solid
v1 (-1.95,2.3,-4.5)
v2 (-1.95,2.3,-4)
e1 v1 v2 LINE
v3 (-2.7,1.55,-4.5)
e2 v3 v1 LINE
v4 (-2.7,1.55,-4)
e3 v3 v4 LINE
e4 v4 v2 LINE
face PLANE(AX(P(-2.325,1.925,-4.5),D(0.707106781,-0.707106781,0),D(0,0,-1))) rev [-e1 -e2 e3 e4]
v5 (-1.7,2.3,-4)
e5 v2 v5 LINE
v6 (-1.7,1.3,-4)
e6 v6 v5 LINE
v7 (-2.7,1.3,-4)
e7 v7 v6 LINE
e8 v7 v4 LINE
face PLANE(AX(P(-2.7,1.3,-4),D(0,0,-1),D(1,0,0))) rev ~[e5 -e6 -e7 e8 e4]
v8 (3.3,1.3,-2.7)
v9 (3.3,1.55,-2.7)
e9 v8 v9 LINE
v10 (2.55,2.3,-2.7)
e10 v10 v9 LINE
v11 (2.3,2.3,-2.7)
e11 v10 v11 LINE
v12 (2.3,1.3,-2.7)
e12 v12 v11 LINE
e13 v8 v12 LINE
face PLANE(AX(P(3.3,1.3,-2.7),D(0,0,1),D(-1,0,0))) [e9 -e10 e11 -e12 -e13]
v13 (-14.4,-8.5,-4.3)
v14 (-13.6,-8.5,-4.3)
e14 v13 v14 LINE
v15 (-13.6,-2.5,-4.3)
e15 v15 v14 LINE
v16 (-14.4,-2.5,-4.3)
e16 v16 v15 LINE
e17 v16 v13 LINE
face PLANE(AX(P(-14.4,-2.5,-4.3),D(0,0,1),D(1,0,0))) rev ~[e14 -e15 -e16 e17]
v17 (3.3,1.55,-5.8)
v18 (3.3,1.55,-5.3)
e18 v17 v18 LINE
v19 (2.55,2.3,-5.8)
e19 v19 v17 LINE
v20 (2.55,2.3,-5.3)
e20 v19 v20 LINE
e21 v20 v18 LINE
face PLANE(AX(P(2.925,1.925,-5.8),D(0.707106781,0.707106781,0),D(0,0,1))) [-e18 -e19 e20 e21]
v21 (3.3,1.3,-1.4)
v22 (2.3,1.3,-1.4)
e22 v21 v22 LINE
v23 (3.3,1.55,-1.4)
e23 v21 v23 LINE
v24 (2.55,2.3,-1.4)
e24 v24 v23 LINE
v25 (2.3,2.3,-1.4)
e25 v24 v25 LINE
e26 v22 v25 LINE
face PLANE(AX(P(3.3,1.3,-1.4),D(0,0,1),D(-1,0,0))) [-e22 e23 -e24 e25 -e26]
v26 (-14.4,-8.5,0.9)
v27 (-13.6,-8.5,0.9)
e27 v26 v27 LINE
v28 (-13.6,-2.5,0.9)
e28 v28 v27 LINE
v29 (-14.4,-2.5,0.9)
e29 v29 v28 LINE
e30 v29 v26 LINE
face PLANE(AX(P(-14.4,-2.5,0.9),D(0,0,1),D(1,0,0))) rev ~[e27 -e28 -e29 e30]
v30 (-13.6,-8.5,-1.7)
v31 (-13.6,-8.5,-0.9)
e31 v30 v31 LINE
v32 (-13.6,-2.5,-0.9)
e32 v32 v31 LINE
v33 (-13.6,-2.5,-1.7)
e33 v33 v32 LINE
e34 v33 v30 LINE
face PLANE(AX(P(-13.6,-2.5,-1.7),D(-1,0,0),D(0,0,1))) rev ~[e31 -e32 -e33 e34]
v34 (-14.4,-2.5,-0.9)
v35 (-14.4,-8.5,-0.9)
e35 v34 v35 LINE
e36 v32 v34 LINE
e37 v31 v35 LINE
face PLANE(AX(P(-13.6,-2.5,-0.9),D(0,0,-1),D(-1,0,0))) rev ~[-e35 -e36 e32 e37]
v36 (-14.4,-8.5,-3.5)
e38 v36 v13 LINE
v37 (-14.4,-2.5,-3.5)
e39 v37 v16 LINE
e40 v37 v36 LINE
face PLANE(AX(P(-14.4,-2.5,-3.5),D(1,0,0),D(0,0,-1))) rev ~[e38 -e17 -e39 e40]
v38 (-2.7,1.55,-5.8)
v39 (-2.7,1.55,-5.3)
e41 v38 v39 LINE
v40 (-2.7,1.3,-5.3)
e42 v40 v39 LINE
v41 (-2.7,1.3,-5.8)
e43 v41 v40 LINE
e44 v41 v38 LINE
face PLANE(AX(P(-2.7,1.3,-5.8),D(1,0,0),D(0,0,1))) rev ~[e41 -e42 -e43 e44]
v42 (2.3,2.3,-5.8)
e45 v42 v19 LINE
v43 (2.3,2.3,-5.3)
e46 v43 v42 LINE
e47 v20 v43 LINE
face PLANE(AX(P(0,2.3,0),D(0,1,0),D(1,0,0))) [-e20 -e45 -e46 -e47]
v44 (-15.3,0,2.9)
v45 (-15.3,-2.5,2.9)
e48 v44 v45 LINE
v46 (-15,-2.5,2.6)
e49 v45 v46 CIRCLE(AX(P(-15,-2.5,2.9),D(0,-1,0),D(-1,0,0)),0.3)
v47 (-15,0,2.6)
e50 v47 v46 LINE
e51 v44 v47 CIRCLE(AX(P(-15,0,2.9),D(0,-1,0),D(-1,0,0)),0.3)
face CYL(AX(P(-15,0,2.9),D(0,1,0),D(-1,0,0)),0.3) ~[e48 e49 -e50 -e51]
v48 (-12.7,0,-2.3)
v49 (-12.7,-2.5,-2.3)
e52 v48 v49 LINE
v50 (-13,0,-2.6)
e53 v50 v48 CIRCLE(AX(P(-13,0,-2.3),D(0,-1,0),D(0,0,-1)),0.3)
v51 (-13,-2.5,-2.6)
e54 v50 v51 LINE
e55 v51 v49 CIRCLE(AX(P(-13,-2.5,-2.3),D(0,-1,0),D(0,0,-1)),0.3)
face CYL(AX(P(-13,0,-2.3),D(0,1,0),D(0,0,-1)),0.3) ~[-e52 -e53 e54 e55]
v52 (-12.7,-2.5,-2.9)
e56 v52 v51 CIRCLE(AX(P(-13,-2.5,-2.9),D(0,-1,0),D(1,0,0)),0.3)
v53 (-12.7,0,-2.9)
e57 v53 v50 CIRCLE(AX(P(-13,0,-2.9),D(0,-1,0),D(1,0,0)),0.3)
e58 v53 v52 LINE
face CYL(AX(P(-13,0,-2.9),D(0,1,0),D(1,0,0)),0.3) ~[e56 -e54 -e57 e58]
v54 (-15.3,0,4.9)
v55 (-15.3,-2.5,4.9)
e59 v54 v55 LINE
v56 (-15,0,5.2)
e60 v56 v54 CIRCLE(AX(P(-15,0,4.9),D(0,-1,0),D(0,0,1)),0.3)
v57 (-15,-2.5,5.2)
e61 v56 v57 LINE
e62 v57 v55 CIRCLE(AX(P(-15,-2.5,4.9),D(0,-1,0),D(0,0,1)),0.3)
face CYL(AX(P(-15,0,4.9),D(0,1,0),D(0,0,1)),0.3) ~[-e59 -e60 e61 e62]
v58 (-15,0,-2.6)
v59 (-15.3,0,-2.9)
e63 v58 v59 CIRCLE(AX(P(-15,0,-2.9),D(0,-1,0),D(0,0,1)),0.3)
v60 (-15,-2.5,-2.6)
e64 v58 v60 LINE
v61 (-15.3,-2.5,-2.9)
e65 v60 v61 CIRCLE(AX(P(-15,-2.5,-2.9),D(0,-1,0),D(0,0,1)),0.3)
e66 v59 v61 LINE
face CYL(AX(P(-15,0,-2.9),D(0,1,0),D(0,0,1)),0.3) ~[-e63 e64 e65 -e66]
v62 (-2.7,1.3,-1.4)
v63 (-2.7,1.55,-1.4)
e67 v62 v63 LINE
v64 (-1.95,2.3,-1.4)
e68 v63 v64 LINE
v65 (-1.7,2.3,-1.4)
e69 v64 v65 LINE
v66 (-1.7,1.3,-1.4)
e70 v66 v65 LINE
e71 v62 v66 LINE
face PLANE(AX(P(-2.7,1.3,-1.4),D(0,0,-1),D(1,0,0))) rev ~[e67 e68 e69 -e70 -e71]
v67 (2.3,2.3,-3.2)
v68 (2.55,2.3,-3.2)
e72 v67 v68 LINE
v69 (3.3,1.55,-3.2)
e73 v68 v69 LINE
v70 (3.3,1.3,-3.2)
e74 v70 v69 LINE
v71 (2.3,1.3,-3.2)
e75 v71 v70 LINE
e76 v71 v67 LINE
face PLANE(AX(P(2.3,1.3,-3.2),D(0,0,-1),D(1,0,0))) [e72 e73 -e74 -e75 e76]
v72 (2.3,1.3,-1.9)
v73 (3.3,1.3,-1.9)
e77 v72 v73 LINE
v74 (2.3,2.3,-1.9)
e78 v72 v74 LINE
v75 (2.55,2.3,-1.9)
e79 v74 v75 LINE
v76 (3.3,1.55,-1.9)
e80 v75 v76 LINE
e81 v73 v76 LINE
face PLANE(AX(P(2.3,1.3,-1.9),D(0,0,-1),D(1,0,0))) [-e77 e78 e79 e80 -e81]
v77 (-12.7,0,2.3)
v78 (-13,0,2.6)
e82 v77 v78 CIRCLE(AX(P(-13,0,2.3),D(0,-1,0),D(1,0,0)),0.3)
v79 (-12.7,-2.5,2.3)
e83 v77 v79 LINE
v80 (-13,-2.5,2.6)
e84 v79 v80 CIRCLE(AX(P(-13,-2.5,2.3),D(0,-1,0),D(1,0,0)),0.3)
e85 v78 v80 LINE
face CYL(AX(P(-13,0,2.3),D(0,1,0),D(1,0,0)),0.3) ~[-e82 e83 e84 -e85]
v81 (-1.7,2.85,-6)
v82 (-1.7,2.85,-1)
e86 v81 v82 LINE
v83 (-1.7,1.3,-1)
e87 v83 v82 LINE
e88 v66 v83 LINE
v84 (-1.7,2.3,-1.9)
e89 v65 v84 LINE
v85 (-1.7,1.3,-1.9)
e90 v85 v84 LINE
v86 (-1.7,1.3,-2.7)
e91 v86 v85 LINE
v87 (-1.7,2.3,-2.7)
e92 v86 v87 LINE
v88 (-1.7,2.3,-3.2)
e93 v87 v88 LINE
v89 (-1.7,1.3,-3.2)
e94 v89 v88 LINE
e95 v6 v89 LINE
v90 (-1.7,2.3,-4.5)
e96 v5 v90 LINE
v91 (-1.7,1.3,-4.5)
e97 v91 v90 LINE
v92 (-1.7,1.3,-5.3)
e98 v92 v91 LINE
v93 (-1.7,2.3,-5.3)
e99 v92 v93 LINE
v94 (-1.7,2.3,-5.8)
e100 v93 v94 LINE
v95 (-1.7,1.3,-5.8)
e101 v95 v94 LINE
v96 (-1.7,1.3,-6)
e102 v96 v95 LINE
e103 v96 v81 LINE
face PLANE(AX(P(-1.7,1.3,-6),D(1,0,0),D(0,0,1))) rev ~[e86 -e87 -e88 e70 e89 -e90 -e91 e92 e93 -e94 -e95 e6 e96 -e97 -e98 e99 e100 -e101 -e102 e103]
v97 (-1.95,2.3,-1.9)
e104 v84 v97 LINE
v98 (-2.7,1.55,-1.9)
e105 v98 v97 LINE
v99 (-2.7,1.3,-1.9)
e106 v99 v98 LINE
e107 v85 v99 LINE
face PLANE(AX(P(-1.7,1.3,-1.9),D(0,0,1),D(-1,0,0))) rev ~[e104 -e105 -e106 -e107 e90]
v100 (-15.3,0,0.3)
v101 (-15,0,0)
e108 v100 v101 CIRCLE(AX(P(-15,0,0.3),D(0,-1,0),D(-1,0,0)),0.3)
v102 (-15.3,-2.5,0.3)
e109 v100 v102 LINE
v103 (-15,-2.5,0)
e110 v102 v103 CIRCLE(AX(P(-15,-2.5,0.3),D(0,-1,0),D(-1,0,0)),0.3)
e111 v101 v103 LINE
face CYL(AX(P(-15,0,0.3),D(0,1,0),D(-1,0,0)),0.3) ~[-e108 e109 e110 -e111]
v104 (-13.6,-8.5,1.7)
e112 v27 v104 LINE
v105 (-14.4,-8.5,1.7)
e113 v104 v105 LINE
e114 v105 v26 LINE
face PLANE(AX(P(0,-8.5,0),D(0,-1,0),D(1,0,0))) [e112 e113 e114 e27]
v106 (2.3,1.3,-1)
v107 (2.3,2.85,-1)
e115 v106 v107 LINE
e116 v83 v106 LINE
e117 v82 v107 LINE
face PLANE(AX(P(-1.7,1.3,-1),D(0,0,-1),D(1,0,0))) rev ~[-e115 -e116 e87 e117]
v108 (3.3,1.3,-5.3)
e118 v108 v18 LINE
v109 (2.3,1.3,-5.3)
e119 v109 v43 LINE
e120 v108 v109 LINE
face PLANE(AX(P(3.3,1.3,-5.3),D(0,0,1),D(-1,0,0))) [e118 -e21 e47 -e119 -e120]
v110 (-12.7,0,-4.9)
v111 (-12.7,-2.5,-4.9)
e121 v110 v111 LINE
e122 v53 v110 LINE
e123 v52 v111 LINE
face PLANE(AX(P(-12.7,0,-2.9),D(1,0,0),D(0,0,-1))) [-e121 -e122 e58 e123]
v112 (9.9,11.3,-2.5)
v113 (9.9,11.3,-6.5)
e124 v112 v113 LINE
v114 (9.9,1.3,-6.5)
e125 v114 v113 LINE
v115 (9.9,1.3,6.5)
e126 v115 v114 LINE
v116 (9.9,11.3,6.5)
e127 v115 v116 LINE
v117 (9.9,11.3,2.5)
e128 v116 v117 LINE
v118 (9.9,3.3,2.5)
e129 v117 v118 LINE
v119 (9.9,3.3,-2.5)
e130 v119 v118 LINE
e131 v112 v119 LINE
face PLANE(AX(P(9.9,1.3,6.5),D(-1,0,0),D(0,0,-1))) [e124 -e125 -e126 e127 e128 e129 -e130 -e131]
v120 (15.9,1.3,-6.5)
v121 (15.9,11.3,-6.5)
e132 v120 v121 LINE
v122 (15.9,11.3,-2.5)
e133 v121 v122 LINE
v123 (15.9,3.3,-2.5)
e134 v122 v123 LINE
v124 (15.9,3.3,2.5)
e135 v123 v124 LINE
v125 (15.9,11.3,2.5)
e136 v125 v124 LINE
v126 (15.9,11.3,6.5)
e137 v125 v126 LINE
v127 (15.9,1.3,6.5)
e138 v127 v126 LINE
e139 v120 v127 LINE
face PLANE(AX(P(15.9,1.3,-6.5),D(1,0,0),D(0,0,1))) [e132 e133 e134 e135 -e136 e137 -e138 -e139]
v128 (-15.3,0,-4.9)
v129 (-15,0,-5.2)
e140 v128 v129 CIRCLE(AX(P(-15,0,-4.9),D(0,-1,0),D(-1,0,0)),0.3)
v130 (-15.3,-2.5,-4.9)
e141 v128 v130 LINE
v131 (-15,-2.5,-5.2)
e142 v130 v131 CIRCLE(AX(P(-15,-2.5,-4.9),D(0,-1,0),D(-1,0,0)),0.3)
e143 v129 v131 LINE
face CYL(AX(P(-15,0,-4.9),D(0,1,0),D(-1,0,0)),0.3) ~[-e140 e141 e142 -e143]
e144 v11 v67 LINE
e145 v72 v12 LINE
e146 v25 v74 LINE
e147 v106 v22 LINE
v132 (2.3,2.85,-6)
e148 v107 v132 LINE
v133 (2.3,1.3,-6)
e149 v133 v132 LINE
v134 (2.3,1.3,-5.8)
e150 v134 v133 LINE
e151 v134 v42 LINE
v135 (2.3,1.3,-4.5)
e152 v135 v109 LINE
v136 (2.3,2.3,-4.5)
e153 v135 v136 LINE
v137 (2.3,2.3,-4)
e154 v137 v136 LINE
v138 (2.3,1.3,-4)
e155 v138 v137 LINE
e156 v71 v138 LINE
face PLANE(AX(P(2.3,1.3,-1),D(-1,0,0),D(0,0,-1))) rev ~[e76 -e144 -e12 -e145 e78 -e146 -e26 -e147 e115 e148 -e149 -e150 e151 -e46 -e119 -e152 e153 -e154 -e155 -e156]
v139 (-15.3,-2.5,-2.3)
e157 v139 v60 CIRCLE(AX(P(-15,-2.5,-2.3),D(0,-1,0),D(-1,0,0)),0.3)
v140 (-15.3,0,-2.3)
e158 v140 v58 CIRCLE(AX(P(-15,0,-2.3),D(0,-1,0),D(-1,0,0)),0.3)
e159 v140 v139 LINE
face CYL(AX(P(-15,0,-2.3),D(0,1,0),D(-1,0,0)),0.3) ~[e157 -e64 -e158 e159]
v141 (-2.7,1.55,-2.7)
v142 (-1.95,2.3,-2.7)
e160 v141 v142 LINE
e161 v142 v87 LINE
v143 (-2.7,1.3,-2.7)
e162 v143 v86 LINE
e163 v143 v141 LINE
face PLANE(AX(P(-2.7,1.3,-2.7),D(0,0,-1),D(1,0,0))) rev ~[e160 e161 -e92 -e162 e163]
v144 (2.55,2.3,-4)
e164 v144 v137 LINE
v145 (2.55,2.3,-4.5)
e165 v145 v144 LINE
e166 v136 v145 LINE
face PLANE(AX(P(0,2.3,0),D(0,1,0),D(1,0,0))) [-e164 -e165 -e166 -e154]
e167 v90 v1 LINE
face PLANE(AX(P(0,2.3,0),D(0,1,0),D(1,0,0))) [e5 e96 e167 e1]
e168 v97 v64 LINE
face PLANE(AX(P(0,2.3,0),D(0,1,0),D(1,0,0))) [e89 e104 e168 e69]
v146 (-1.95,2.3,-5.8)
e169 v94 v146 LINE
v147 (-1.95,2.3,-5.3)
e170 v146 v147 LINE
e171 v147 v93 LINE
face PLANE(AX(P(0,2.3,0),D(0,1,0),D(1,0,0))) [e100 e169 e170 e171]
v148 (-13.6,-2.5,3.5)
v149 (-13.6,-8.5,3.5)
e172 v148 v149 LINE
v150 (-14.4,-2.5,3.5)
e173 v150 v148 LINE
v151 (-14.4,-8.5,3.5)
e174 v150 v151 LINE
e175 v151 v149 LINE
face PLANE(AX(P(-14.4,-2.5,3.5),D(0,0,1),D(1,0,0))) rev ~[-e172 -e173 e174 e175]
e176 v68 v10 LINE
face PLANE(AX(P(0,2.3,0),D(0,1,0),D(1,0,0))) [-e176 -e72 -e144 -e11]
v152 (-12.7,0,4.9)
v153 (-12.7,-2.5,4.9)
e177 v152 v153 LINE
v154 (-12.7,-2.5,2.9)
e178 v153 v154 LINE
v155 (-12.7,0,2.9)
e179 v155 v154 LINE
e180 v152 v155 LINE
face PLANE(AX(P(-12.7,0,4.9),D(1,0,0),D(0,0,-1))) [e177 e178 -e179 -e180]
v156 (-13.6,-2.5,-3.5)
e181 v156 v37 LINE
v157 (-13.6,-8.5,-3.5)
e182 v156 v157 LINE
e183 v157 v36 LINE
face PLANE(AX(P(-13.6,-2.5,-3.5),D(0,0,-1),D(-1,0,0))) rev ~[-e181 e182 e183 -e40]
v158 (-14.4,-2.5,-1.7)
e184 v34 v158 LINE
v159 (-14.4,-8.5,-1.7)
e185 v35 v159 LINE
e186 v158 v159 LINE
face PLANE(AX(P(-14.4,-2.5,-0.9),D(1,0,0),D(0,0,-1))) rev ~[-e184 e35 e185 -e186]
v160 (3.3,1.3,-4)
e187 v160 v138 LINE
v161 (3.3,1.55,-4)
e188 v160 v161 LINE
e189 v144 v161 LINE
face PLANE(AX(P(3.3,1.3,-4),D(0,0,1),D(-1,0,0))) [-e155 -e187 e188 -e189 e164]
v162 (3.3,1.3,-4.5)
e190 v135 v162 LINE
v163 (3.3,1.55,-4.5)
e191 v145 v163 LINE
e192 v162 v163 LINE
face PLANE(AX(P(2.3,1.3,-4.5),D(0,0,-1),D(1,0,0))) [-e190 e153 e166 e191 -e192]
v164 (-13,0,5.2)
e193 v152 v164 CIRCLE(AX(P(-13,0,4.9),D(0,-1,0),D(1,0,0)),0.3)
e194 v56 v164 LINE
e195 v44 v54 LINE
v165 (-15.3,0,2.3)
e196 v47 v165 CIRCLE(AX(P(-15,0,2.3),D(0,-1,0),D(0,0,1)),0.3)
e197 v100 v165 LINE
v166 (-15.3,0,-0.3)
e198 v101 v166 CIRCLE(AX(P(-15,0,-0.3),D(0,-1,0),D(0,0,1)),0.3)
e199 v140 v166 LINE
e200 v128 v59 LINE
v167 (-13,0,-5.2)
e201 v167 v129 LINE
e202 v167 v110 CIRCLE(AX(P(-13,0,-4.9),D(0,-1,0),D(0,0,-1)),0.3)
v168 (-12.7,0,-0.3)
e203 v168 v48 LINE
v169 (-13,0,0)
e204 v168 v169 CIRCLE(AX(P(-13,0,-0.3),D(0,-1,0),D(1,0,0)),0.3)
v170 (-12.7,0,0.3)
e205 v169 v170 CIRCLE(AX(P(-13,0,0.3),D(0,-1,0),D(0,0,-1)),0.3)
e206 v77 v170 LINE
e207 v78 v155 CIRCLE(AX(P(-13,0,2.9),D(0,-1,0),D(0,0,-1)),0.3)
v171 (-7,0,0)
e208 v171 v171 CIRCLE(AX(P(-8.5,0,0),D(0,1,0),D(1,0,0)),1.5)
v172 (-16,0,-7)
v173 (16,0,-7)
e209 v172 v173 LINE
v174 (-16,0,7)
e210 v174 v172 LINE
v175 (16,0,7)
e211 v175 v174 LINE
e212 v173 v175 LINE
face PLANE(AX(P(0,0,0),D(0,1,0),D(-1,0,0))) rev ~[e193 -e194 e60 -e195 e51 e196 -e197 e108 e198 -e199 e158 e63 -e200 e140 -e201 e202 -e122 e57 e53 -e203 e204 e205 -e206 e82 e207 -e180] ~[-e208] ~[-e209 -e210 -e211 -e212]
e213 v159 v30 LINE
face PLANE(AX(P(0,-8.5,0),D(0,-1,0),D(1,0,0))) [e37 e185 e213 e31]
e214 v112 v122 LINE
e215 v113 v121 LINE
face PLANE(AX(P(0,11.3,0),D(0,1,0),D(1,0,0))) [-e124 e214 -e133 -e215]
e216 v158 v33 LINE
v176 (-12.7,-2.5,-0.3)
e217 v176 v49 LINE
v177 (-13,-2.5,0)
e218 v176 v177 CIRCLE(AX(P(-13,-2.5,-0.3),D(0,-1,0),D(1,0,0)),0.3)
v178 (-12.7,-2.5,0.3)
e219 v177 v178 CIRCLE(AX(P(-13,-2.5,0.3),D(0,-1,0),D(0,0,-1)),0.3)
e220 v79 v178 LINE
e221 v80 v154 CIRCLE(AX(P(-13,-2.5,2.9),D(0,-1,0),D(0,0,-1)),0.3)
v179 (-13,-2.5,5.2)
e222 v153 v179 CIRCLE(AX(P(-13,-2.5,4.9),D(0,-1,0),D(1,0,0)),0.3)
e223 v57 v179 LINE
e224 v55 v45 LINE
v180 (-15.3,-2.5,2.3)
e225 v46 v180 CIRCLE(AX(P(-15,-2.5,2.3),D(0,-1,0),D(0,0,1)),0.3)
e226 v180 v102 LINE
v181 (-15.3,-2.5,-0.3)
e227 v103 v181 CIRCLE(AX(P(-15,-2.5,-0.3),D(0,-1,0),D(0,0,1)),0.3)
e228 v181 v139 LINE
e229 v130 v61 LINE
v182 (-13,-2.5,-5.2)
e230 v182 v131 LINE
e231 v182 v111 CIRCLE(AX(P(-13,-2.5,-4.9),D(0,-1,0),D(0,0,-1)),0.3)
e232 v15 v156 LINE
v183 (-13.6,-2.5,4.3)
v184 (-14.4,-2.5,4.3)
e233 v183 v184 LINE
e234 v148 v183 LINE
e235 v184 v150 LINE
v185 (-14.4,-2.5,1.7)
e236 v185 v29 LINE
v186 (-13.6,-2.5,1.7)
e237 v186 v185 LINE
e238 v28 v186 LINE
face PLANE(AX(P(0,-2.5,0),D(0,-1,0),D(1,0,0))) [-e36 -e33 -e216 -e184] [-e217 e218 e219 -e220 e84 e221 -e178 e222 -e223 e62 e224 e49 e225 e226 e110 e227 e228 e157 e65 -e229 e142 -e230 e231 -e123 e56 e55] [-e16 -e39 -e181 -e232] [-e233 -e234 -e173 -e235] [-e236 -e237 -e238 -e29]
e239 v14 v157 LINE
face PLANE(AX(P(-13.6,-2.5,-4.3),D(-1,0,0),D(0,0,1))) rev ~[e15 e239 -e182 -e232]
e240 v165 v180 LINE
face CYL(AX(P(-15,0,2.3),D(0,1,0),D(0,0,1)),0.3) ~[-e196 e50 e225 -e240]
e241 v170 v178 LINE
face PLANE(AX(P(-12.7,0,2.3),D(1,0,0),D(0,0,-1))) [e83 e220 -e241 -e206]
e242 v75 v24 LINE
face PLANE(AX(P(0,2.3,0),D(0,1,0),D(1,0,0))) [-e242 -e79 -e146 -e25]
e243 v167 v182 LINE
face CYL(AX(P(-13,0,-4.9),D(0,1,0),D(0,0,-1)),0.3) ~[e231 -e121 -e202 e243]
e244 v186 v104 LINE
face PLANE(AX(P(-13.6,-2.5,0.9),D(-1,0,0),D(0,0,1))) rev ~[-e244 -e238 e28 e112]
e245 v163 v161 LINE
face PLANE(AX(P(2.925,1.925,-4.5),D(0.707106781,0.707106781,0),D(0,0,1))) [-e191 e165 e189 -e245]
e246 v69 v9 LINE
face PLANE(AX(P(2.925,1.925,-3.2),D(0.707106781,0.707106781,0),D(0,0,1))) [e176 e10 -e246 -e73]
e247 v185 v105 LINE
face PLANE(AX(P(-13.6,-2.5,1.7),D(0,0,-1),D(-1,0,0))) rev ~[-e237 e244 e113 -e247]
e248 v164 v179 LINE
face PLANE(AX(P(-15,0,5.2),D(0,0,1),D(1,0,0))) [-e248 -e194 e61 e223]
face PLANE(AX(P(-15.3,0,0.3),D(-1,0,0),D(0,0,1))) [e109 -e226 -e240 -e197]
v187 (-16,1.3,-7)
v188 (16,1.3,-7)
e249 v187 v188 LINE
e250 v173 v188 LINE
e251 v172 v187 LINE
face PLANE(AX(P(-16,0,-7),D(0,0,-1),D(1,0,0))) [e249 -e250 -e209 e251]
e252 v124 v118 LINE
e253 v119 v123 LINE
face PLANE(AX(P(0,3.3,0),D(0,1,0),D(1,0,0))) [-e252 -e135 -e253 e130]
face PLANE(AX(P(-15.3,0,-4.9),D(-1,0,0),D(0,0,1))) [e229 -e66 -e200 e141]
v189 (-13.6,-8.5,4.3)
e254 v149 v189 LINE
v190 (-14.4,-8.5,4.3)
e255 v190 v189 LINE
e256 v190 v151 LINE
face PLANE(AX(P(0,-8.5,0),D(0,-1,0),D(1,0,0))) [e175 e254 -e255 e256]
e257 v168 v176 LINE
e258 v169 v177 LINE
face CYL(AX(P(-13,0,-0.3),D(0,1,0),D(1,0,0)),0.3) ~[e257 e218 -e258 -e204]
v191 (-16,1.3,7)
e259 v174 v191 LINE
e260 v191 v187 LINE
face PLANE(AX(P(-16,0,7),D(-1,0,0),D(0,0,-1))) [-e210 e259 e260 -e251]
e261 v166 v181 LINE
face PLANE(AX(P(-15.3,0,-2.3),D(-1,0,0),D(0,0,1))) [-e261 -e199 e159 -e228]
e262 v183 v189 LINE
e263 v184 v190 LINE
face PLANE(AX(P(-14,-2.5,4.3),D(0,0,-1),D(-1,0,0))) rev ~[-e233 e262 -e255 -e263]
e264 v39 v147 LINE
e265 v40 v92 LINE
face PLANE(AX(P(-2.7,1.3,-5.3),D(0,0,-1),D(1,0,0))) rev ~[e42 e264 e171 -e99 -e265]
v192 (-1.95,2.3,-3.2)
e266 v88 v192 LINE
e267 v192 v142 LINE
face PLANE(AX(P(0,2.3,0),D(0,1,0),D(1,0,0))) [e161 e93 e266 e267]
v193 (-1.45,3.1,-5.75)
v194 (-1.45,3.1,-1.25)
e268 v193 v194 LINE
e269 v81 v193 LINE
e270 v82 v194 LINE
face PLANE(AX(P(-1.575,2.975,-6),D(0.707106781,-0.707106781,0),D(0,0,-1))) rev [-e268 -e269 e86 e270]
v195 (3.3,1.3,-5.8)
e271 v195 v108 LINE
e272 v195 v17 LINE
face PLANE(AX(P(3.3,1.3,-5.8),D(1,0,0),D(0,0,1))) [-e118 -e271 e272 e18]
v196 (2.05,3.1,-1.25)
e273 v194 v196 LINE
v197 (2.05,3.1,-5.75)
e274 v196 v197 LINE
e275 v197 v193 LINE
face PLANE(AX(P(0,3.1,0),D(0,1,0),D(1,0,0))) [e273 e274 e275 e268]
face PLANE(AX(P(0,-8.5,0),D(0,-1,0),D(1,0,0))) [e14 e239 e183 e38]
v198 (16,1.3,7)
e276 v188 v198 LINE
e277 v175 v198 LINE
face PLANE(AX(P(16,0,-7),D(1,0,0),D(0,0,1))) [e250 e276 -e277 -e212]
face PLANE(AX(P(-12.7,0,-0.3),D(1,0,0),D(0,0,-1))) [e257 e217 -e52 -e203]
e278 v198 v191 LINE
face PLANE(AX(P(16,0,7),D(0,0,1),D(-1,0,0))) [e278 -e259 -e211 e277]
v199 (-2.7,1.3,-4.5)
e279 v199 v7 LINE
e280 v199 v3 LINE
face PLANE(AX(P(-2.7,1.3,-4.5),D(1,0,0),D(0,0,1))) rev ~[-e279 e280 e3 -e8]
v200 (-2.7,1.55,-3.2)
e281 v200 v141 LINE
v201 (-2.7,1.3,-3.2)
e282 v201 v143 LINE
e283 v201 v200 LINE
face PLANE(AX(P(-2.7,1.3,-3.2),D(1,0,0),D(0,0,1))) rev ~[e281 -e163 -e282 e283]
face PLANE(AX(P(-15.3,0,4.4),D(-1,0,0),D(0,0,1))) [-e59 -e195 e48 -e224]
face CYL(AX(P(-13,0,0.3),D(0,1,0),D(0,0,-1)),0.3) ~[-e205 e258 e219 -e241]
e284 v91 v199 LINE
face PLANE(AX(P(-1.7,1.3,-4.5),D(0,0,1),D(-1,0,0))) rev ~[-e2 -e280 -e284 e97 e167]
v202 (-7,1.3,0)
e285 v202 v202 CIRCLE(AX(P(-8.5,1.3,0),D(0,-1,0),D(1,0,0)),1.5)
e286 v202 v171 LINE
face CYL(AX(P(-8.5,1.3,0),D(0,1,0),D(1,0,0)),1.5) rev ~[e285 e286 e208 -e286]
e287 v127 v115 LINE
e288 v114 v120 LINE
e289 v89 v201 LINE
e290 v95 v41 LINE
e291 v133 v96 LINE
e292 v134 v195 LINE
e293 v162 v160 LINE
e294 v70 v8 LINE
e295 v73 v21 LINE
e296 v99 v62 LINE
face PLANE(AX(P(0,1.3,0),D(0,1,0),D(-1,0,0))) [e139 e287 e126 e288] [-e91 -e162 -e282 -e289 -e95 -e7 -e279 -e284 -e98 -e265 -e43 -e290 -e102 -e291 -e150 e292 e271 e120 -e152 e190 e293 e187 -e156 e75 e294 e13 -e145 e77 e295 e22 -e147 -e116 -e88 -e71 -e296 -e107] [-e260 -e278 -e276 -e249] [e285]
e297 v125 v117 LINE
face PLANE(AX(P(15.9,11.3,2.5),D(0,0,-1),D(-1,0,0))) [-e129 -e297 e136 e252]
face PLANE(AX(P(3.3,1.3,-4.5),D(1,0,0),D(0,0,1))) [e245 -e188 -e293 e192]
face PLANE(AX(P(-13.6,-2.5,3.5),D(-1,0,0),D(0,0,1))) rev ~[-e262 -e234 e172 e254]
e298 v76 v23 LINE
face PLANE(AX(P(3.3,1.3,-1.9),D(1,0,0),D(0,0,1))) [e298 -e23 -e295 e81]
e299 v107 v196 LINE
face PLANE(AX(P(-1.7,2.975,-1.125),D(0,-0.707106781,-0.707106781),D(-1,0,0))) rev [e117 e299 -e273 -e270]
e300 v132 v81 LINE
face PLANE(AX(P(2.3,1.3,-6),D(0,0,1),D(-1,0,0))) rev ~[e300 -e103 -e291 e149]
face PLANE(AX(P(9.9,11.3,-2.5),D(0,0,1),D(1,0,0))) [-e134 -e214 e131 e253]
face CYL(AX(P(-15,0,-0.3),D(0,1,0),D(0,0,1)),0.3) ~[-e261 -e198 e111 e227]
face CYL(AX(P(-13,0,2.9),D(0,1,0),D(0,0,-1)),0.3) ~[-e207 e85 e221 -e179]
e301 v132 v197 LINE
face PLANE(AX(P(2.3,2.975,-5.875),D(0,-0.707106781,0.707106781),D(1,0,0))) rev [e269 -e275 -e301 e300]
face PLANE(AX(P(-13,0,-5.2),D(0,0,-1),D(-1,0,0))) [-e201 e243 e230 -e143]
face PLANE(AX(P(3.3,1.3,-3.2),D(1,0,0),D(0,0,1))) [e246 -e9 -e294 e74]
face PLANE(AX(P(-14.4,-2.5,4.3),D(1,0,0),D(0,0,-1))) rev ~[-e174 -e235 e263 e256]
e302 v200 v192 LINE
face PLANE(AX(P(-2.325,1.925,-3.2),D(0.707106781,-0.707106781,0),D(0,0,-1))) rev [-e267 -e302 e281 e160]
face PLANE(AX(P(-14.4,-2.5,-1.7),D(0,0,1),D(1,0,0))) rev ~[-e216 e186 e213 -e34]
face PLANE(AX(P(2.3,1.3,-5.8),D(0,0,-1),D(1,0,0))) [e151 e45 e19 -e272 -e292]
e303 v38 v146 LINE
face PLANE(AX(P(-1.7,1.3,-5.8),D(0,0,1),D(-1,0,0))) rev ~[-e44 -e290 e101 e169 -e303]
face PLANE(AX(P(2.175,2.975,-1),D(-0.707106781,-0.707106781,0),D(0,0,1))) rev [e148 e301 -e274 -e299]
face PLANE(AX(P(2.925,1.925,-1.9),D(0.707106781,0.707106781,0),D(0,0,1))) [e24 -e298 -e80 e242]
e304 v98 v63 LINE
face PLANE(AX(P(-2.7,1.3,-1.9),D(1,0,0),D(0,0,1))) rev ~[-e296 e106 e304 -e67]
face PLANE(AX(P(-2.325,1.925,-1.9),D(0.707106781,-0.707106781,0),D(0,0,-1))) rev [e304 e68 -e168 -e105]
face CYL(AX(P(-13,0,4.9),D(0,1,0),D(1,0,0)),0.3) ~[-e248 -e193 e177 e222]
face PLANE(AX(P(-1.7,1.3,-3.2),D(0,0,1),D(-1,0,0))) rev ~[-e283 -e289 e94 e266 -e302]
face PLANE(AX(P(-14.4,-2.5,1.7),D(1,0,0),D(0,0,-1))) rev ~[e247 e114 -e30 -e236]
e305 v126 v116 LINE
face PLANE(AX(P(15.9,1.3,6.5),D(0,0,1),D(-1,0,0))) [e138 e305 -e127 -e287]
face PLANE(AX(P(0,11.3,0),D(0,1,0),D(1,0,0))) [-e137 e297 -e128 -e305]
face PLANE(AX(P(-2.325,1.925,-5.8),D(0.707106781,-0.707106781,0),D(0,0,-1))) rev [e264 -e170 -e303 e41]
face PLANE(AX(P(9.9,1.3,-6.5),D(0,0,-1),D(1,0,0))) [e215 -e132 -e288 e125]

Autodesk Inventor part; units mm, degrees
ref_plane "YZ Plane" through (0, 0, 0) normal (1, 0, 0) x (0, 1, 0)
ref_plane "XZ Plane" through (0, 0, 0) normal (0, 1, 0) x (-1, 0, 0)
ref_plane "XY Plane" through (0, 0, 0) normal (0, 0, 1) x (1, 0, 0)
sketch "Эскиз1" plane through (0, 0, 0) normal (0, 1, 0) x (-1, 0, 0)
  line L0 (-16, 7) -> (16, 7)
  line L1 (16, 7) -> (16, -7)
  line L2 (16, -7) -> (-16, -7)
  line L3 (-16, -7) -> (-16, 7)
  line L4 (-16, 7) -> (16, -7) construction
  line L5 (16, 7) -> (-16, -7) construction
  point P0 (0, 0)
  dimension "d0" = 32
  dimension "d1" = 14
extrude "Выдавливание1" add sketch "Эскиз1" along normal blind 1.3
sketch "Эскиз4" plane through (0, 1.3, 0) normal (0, 1, 0) x (1, 0, 0)
  line L0 (-16, -7) -> (16, -7) projected
  line L1 (16, -7) -> (16, -6.5)
  line L2 (16, -7) -> (16, 7) projected
  line L3 (16, -6.5) -> (15.9, -6.5)
  line L4 (15.9, -6.5) -> (9.9, -6.5)
  line L5 (9.9, -6.5) -> (9.9, 6.5)
  line L6 (9.9, 6.5) -> (15.9, 6.5)
  line L7 (15.9, 6.5) -> (15.9, -6.5)
  point P0 (0, 0)
  dimension "d13" = 0.5
  dimension "d14" = 0.1
  dimension "d15" = 6
  dimension "d16" = 13
extrude "Выдавливание4" add sketch "Эскиз4" along normal blind 10
sketch "Эскиз5" plane through (0, 11.3, 0) normal (0, 1, 0) x (1, 0, 0)
  line L0 (9.9, 6.5) -> (9.9, -6.5) projected
  line L1 (15.9, -2.5) -> (9.9, -2.5)
  line L2 (9.9, -2.5) -> (9.9, 2.5)
  line L3 (9.9, 2.5) -> (15.9, 2.5)
  line L4 (15.9, 2.5) -> (15.9, -2.5)
  line L5 (15.9, -2.5) -> (9.9, 2.5) construction
  line L6 (9.9, -2.5) -> (15.9, 2.5) construction
  point P0 (0, 0)
  point P1 (12.9, 0)
  dimension "d19" = 5
extrude "Выдавливание5" cut sketch "Эскиз5" against normal blind 8
sketch "Эскиз6" plane through (0, 1.3, 0) normal (0, 1, 0) x (1, 0, 0)
  line L0 (-16, 7) -> (-16, -7) projected
  line L1 (-16, 0) -> (-10, 0)
  line L2 (-10, 0) -> (-7, 0)
  circle A0 centre (-8.5, 0) radius 1.5
  point P0 (0, 0)
  dimension "d22" = 6
  dimension "d23" = 3
extrude "Выдавливание6" cut sketch "Эскиз6" against normal blind 8
sketch "Эскиз10" plane through (0, 1.3, 0) normal (0, 1, 0) x (1, 0, 0)
  line L0 (2.3, 6) -> (-1.7, 6)
  line L1 (-1.7, 6) -> (-1.7, 1)
  line L2 (-1.7, 1) -> (2.3, 1)
  line L3 (2.3, 1) -> (2.3, 6)
  line L4 (-12.7, 2.9) -> (-12.7, 4.9) projected
  line L5 (16, 7) -> (-16, 7) projected
  point P0 (0, 0)
  dimension "d49" = 4
  dimension "d50" = 5
  dimension "d51" = 11
  dimension "d52" = 1
extrude "Выдавливание9" add sketch "Эскиз10" along normal blind 1.8
chamfer "Фаска1" distance 0.25 angle 45 4 edges at (-1.7, 3.1, -3.5) (0.3, 3.1, -1) (2.3, 3.1, -3.5) (0.3, 3.1, -6)
sketch "Эскиз11" plane through (0, 1.3, 0) normal (0, 1, 0) x (1, 0, 0)
  line L0 (-1.7, 1) -> (-1.7, 6) projected
  line L1 (-1.7, 6) -> (-1.7, 5.8)
  line L2 (-1.7, 5.8) -> (-2.7, 5.8)
  line L3 (-2.7, 5.8) -> (-2.7, 5.3)
  line L4 (-2.7, 5.3) -> (-1.7, 5.3)
  line L5 (-1.7, 5.3) -> (-1.7, 5.8)
  line L6 (-1.7, 4.7) -> (-1.7, 4.5)
  line L7 (-1.7, 4.5) -> (-2.7, 4.5)
  line L8 (-2.7, 4.5) -> (-2.7, 4)
  line L9 (-2.7, 4) -> (-1.7, 4)
  line L10 (-1.7, 4) -> (-1.7, 4.5)
  line L11 (-1.7, 3.4) -> (-1.7, 3.2)
  line L12 (-1.7, 3.2) -> (-2.7, 3.2)
  line L13 (-2.7, 3.2) -> (-2.7, 2.7)
  line L14 (-2.7, 2.7) -> (-1.7, 2.7)
  line L15 (-1.7, 2.7) -> (-1.7, 3.2)
  line L16 (-1.7, 2.1) -> (-1.7, 1.9)
  line L17 (-1.7, 1.9) -> (-2.7, 1.9)
  line L18 (-2.7, 1.9) -> (-2.7, 1.4)
  line L19 (-2.7, 1.4) -> (-1.7, 1.4)
  line L20 (-1.7, 1.4) -> (-1.7, 1.9)
  line L21 (-1.7, 6) -> (2.3, 6) projected
  line L22 (0.3, 6) -> (0.3, 4.6)
  line L23 (2.3, 1) -> (2.3, 6)
  line L24 (2.3, 6) -> (2.3, 5.8)
  line L25 (2.3, 5.8) -> (3.3, 5.8)
  line L26 (3.3, 5.8) -> (3.3, 5.3)
  line L27 (3.3, 5.3) -> (2.3, 5.3)
  line L28 (2.3, 5.3) -> (2.3, 5.8)
  line L29 (2.3, 4.7) -> (2.3, 4.5)
  line L30 (2.3, 4.5) -> (3.3, 4.5)
  line L31 (3.3, 4.5) -> (3.3, 4)
  line L32 (3.3, 4) -> (2.3, 4)
  line L33 (2.3, 4) -> (2.3, 4.5)
  line L34 (2.3, 3.4) -> (2.3, 3.2)
  line L35 (2.3, 3.2) -> (3.3, 3.2)
  line L36 (3.3, 3.2) -> (3.3, 2.7)
  line L37 (3.3, 2.7) -> (2.3, 2.7)
  line L38 (2.3, 2.7) -> (2.3, 3.2)
  line L39 (2.3, 2.1) -> (2.3, 1.9)
  line L40 (2.3, 1.9) -> (3.3, 1.9)
  line L41 (3.3, 1.9) -> (3.3, 1.4)
  line L42 (3.3, 1.4) -> (2.3, 1.4)
  line L43 (2.3, 1.4) -> (2.3, 1.9)
  point P0 (0, 0)
  dimension "d58" = 0.2
  dimension "d59" = 1
  dimension "d60" = 0.5
  dimension "d63" = 1.3
extrude "Выдавливание10" add sketch "Эскиз11" along normal blind 1
chamfer "Фаска2" distance 0.75 angle 45 8 edges at (-2.7, 2.3, -5.55) (-2.7, 2.3, -4.25) (-2.7, 2.3, -2.95) (-2.7, 2.3, -1.65) (3.3, 2.3, -1.65) (3.3, 2.3, -2.95) (3.3, 2.3, -4.25) (3.3, 2.3, -5.55)
sketch "Эскиз18" plane through (0, 0, 0) normal (0, -1, 0) x (1, 0, 0)
  line L0 (16, 7) -> (-16, 7) projected
  line L1 (-16, 7) -> (-15.3, 7)
  line L2 (-15.3, 7) -> (-15.3, 5.2)
  line L3 (-15, 5.2) -> (-13, 5.2)
  line L4 (-12.7, 4.9) -> (-12.7, 2.9)
  line L5 (-13, 2.6) -> (-15, 2.6)
  line L6 (-15.3, 2.9) -> (-15.3, 4.9)
  arc A0 (-12.7, 4.9) -> (-13, 5.2) centre (-13, 4.9) ccw
  arc A1 (-13, 2.6) -> (-12.7, 2.9) centre (-13, 2.9) ccw
  arc A2 (-15.3, 2.9) -> (-15, 2.6) centre (-15, 2.9) ccw
  arc A3 (-15, 5.2) -> (-15.3, 4.9) centre (-15, 4.9) ccw
  line L7 (-15.3, 4.4) -> (-15.3, 2.6)
  arc A4 (-15, 2.6) -> (-15.3, 2.3) centre (-15, 2.3) ccw
  line L8 (-15, 2.6) -> (-13, 2.6)
  arc A5 (-12.7, 2.3) -> (-13, 2.6) centre (-13, 2.3) ccw
  line L9 (-15.3, 0.3) -> (-15.3, 2.3)
  arc A6 (-15.3, 0.3) -> (-15, 0) centre (-15, 0.3) ccw
  line L10 (-12.7, 2.3) -> (-12.7, 0.3)
  arc A7 (-13, 0) -> (-12.7, 0.3) centre (-13, 0.3) ccw
  line L11 (-13, 0) -> (-15, 0)
  line L12 (-15.3, 1.8) -> (-15.3, 0)
  arc A8 (-15, 0) -> (-15.3, -0.3) centre (-15, -0.3) ccw
  line L13 (-15, 0) -> (-13, 0)
  arc A9 (-12.7, -0.3) -> (-13, 0) centre (-13, -0.3) ccw
  line L14 (-15.3, -2.3) -> (-15.3, -0.3)
  arc A10 (-15.3, -2.3) -> (-15, -2.6) centre (-15, -2.3) ccw
  line L15 (-12.7, -0.3) -> (-12.7, -2.3)
  arc A11 (-13, -2.6) -> (-12.7, -2.3) centre (-13, -2.3) ccw
  line L16 (-13, -2.6) -> (-15, -2.6)
  line L17 (-15.3, -0.8) -> (-15.3, -2.6)
  arc A12 (-15, -2.6) -> (-15.3, -2.9) centre (-15, -2.9) ccw
  line L18 (-15, -2.6) -> (-13, -2.6)
  arc A13 (-12.7, -2.9) -> (-13, -2.6) centre (-13, -2.9) ccw
  line L19 (-15.3, -4.9) -> (-15.3, -2.9)
  arc A14 (-15.3, -4.9) -> (-15, -5.2) centre (-15, -4.9) ccw
  line L20 (-12.7, -2.9) -> (-12.7, -4.9)
  arc A15 (-13, -5.2) -> (-12.7, -4.9) centre (-13, -4.9) ccw
  line L21 (-13, -5.2) -> (-15, -5.2)
  point P0 (0, 0)
  point P1 (-12.7, 2.6)
  point P2 (-12.7, 5.2)
  point P3 (-12.7, 2.6)
  point P4 (-12.7, 0)
  point P5 (-12.7, 0)
  point P6 (-12.7, -2.6)
  point P7 (-12.7, -2.6)
  point P8 (-15.3, -5.2)
  point P9 (-12.7, -5.2)
  dimension "d105" = 0.7
  dimension "d106" = 1.8
  dimension "d107" = 2.6
  dimension "d108" = 2.6
  dimension "d109" = 0.3
  dimension "d112" = 2.6
extrude "Выдавливание11" add sketch "Эскиз18" along normal blind 2.5
sketch "Эскиз19" plane through (0, -2.5, 0) normal (0, -1, 0) x (1, 0, 0)
  line L0 (-15, 5.2) -> (-13, 5.2) projected
  line L1 (-14, 5.2) -> (-14, 3.9)
  line L2 (-14.4, 3.5) -> (-13.6, 3.5)
  line L3 (-13.6, 3.5) -> (-13.6, 4.3)
  line L4 (-13.6, 4.3) -> (-14.4, 4.3)
  line L5 (-14.4, 4.3) -> (-14.4, 3.5)
  line L6 (-14.4, 3.5) -> (-13.6, 4.3) construction
  line L7 (-13.6, 3.5) -> (-14.4, 4.3) construction
  line L8 (-14.4, 0.9) -> (-13.6, 0.9)
  line L9 (-13.6, 0.9) -> (-13.6, 1.7)
  line L10 (-13.6, 1.7) -> (-14.4, 1.7)
  line L11 (-14.4, 1.7) -> (-14.4, 0.9)
  line L12 (-14.4, 0.9) -> (-13.6, 1.7) construction
  line L13 (-13.6, 0.9) -> (-14.4, 1.7) construction
  line L14 (-14.4, -1.7) -> (-13.6, -1.7)
  line L15 (-13.6, -1.7) -> (-13.6, -0.9)
  line L16 (-13.6, -0.9) -> (-14.4, -0.9)
  line L17 (-14.4, -0.9) -> (-14.4, -1.7)
  line L18 (-14.4, -1.7) -> (-13.6, -0.9) construction
  line L19 (-13.6, -1.7) -> (-14.4, -0.9) construction
  line L20 (-14.4, -4.3) -> (-13.6, -4.3)
  line L21 (-13.6, -4.3) -> (-13.6, -3.5)
  line L22 (-13.6, -3.5) -> (-14.4, -3.5)
  line L23 (-14.4, -3.5) -> (-14.4, -4.3)
  line L24 (-14.4, -4.3) -> (-13.6, -3.5) construction
  line L25 (-13.6, -4.3) -> (-14.4, -3.5) construction
  point P0 (0, 0)
  point P1 (-14, 1.3)
  point P2 (-14, -1.3)
  point P3 (-14, -3.9)
  dimension "d119" = 1.3
  dimension "d120" = 0.8
  dimension "d121" = 0.8
  dimension "d124" = 2.6
extrude "Выдавливание12" add sketch "Эскиз19" along normal blind 6
properties part number "Оптический датчик"
